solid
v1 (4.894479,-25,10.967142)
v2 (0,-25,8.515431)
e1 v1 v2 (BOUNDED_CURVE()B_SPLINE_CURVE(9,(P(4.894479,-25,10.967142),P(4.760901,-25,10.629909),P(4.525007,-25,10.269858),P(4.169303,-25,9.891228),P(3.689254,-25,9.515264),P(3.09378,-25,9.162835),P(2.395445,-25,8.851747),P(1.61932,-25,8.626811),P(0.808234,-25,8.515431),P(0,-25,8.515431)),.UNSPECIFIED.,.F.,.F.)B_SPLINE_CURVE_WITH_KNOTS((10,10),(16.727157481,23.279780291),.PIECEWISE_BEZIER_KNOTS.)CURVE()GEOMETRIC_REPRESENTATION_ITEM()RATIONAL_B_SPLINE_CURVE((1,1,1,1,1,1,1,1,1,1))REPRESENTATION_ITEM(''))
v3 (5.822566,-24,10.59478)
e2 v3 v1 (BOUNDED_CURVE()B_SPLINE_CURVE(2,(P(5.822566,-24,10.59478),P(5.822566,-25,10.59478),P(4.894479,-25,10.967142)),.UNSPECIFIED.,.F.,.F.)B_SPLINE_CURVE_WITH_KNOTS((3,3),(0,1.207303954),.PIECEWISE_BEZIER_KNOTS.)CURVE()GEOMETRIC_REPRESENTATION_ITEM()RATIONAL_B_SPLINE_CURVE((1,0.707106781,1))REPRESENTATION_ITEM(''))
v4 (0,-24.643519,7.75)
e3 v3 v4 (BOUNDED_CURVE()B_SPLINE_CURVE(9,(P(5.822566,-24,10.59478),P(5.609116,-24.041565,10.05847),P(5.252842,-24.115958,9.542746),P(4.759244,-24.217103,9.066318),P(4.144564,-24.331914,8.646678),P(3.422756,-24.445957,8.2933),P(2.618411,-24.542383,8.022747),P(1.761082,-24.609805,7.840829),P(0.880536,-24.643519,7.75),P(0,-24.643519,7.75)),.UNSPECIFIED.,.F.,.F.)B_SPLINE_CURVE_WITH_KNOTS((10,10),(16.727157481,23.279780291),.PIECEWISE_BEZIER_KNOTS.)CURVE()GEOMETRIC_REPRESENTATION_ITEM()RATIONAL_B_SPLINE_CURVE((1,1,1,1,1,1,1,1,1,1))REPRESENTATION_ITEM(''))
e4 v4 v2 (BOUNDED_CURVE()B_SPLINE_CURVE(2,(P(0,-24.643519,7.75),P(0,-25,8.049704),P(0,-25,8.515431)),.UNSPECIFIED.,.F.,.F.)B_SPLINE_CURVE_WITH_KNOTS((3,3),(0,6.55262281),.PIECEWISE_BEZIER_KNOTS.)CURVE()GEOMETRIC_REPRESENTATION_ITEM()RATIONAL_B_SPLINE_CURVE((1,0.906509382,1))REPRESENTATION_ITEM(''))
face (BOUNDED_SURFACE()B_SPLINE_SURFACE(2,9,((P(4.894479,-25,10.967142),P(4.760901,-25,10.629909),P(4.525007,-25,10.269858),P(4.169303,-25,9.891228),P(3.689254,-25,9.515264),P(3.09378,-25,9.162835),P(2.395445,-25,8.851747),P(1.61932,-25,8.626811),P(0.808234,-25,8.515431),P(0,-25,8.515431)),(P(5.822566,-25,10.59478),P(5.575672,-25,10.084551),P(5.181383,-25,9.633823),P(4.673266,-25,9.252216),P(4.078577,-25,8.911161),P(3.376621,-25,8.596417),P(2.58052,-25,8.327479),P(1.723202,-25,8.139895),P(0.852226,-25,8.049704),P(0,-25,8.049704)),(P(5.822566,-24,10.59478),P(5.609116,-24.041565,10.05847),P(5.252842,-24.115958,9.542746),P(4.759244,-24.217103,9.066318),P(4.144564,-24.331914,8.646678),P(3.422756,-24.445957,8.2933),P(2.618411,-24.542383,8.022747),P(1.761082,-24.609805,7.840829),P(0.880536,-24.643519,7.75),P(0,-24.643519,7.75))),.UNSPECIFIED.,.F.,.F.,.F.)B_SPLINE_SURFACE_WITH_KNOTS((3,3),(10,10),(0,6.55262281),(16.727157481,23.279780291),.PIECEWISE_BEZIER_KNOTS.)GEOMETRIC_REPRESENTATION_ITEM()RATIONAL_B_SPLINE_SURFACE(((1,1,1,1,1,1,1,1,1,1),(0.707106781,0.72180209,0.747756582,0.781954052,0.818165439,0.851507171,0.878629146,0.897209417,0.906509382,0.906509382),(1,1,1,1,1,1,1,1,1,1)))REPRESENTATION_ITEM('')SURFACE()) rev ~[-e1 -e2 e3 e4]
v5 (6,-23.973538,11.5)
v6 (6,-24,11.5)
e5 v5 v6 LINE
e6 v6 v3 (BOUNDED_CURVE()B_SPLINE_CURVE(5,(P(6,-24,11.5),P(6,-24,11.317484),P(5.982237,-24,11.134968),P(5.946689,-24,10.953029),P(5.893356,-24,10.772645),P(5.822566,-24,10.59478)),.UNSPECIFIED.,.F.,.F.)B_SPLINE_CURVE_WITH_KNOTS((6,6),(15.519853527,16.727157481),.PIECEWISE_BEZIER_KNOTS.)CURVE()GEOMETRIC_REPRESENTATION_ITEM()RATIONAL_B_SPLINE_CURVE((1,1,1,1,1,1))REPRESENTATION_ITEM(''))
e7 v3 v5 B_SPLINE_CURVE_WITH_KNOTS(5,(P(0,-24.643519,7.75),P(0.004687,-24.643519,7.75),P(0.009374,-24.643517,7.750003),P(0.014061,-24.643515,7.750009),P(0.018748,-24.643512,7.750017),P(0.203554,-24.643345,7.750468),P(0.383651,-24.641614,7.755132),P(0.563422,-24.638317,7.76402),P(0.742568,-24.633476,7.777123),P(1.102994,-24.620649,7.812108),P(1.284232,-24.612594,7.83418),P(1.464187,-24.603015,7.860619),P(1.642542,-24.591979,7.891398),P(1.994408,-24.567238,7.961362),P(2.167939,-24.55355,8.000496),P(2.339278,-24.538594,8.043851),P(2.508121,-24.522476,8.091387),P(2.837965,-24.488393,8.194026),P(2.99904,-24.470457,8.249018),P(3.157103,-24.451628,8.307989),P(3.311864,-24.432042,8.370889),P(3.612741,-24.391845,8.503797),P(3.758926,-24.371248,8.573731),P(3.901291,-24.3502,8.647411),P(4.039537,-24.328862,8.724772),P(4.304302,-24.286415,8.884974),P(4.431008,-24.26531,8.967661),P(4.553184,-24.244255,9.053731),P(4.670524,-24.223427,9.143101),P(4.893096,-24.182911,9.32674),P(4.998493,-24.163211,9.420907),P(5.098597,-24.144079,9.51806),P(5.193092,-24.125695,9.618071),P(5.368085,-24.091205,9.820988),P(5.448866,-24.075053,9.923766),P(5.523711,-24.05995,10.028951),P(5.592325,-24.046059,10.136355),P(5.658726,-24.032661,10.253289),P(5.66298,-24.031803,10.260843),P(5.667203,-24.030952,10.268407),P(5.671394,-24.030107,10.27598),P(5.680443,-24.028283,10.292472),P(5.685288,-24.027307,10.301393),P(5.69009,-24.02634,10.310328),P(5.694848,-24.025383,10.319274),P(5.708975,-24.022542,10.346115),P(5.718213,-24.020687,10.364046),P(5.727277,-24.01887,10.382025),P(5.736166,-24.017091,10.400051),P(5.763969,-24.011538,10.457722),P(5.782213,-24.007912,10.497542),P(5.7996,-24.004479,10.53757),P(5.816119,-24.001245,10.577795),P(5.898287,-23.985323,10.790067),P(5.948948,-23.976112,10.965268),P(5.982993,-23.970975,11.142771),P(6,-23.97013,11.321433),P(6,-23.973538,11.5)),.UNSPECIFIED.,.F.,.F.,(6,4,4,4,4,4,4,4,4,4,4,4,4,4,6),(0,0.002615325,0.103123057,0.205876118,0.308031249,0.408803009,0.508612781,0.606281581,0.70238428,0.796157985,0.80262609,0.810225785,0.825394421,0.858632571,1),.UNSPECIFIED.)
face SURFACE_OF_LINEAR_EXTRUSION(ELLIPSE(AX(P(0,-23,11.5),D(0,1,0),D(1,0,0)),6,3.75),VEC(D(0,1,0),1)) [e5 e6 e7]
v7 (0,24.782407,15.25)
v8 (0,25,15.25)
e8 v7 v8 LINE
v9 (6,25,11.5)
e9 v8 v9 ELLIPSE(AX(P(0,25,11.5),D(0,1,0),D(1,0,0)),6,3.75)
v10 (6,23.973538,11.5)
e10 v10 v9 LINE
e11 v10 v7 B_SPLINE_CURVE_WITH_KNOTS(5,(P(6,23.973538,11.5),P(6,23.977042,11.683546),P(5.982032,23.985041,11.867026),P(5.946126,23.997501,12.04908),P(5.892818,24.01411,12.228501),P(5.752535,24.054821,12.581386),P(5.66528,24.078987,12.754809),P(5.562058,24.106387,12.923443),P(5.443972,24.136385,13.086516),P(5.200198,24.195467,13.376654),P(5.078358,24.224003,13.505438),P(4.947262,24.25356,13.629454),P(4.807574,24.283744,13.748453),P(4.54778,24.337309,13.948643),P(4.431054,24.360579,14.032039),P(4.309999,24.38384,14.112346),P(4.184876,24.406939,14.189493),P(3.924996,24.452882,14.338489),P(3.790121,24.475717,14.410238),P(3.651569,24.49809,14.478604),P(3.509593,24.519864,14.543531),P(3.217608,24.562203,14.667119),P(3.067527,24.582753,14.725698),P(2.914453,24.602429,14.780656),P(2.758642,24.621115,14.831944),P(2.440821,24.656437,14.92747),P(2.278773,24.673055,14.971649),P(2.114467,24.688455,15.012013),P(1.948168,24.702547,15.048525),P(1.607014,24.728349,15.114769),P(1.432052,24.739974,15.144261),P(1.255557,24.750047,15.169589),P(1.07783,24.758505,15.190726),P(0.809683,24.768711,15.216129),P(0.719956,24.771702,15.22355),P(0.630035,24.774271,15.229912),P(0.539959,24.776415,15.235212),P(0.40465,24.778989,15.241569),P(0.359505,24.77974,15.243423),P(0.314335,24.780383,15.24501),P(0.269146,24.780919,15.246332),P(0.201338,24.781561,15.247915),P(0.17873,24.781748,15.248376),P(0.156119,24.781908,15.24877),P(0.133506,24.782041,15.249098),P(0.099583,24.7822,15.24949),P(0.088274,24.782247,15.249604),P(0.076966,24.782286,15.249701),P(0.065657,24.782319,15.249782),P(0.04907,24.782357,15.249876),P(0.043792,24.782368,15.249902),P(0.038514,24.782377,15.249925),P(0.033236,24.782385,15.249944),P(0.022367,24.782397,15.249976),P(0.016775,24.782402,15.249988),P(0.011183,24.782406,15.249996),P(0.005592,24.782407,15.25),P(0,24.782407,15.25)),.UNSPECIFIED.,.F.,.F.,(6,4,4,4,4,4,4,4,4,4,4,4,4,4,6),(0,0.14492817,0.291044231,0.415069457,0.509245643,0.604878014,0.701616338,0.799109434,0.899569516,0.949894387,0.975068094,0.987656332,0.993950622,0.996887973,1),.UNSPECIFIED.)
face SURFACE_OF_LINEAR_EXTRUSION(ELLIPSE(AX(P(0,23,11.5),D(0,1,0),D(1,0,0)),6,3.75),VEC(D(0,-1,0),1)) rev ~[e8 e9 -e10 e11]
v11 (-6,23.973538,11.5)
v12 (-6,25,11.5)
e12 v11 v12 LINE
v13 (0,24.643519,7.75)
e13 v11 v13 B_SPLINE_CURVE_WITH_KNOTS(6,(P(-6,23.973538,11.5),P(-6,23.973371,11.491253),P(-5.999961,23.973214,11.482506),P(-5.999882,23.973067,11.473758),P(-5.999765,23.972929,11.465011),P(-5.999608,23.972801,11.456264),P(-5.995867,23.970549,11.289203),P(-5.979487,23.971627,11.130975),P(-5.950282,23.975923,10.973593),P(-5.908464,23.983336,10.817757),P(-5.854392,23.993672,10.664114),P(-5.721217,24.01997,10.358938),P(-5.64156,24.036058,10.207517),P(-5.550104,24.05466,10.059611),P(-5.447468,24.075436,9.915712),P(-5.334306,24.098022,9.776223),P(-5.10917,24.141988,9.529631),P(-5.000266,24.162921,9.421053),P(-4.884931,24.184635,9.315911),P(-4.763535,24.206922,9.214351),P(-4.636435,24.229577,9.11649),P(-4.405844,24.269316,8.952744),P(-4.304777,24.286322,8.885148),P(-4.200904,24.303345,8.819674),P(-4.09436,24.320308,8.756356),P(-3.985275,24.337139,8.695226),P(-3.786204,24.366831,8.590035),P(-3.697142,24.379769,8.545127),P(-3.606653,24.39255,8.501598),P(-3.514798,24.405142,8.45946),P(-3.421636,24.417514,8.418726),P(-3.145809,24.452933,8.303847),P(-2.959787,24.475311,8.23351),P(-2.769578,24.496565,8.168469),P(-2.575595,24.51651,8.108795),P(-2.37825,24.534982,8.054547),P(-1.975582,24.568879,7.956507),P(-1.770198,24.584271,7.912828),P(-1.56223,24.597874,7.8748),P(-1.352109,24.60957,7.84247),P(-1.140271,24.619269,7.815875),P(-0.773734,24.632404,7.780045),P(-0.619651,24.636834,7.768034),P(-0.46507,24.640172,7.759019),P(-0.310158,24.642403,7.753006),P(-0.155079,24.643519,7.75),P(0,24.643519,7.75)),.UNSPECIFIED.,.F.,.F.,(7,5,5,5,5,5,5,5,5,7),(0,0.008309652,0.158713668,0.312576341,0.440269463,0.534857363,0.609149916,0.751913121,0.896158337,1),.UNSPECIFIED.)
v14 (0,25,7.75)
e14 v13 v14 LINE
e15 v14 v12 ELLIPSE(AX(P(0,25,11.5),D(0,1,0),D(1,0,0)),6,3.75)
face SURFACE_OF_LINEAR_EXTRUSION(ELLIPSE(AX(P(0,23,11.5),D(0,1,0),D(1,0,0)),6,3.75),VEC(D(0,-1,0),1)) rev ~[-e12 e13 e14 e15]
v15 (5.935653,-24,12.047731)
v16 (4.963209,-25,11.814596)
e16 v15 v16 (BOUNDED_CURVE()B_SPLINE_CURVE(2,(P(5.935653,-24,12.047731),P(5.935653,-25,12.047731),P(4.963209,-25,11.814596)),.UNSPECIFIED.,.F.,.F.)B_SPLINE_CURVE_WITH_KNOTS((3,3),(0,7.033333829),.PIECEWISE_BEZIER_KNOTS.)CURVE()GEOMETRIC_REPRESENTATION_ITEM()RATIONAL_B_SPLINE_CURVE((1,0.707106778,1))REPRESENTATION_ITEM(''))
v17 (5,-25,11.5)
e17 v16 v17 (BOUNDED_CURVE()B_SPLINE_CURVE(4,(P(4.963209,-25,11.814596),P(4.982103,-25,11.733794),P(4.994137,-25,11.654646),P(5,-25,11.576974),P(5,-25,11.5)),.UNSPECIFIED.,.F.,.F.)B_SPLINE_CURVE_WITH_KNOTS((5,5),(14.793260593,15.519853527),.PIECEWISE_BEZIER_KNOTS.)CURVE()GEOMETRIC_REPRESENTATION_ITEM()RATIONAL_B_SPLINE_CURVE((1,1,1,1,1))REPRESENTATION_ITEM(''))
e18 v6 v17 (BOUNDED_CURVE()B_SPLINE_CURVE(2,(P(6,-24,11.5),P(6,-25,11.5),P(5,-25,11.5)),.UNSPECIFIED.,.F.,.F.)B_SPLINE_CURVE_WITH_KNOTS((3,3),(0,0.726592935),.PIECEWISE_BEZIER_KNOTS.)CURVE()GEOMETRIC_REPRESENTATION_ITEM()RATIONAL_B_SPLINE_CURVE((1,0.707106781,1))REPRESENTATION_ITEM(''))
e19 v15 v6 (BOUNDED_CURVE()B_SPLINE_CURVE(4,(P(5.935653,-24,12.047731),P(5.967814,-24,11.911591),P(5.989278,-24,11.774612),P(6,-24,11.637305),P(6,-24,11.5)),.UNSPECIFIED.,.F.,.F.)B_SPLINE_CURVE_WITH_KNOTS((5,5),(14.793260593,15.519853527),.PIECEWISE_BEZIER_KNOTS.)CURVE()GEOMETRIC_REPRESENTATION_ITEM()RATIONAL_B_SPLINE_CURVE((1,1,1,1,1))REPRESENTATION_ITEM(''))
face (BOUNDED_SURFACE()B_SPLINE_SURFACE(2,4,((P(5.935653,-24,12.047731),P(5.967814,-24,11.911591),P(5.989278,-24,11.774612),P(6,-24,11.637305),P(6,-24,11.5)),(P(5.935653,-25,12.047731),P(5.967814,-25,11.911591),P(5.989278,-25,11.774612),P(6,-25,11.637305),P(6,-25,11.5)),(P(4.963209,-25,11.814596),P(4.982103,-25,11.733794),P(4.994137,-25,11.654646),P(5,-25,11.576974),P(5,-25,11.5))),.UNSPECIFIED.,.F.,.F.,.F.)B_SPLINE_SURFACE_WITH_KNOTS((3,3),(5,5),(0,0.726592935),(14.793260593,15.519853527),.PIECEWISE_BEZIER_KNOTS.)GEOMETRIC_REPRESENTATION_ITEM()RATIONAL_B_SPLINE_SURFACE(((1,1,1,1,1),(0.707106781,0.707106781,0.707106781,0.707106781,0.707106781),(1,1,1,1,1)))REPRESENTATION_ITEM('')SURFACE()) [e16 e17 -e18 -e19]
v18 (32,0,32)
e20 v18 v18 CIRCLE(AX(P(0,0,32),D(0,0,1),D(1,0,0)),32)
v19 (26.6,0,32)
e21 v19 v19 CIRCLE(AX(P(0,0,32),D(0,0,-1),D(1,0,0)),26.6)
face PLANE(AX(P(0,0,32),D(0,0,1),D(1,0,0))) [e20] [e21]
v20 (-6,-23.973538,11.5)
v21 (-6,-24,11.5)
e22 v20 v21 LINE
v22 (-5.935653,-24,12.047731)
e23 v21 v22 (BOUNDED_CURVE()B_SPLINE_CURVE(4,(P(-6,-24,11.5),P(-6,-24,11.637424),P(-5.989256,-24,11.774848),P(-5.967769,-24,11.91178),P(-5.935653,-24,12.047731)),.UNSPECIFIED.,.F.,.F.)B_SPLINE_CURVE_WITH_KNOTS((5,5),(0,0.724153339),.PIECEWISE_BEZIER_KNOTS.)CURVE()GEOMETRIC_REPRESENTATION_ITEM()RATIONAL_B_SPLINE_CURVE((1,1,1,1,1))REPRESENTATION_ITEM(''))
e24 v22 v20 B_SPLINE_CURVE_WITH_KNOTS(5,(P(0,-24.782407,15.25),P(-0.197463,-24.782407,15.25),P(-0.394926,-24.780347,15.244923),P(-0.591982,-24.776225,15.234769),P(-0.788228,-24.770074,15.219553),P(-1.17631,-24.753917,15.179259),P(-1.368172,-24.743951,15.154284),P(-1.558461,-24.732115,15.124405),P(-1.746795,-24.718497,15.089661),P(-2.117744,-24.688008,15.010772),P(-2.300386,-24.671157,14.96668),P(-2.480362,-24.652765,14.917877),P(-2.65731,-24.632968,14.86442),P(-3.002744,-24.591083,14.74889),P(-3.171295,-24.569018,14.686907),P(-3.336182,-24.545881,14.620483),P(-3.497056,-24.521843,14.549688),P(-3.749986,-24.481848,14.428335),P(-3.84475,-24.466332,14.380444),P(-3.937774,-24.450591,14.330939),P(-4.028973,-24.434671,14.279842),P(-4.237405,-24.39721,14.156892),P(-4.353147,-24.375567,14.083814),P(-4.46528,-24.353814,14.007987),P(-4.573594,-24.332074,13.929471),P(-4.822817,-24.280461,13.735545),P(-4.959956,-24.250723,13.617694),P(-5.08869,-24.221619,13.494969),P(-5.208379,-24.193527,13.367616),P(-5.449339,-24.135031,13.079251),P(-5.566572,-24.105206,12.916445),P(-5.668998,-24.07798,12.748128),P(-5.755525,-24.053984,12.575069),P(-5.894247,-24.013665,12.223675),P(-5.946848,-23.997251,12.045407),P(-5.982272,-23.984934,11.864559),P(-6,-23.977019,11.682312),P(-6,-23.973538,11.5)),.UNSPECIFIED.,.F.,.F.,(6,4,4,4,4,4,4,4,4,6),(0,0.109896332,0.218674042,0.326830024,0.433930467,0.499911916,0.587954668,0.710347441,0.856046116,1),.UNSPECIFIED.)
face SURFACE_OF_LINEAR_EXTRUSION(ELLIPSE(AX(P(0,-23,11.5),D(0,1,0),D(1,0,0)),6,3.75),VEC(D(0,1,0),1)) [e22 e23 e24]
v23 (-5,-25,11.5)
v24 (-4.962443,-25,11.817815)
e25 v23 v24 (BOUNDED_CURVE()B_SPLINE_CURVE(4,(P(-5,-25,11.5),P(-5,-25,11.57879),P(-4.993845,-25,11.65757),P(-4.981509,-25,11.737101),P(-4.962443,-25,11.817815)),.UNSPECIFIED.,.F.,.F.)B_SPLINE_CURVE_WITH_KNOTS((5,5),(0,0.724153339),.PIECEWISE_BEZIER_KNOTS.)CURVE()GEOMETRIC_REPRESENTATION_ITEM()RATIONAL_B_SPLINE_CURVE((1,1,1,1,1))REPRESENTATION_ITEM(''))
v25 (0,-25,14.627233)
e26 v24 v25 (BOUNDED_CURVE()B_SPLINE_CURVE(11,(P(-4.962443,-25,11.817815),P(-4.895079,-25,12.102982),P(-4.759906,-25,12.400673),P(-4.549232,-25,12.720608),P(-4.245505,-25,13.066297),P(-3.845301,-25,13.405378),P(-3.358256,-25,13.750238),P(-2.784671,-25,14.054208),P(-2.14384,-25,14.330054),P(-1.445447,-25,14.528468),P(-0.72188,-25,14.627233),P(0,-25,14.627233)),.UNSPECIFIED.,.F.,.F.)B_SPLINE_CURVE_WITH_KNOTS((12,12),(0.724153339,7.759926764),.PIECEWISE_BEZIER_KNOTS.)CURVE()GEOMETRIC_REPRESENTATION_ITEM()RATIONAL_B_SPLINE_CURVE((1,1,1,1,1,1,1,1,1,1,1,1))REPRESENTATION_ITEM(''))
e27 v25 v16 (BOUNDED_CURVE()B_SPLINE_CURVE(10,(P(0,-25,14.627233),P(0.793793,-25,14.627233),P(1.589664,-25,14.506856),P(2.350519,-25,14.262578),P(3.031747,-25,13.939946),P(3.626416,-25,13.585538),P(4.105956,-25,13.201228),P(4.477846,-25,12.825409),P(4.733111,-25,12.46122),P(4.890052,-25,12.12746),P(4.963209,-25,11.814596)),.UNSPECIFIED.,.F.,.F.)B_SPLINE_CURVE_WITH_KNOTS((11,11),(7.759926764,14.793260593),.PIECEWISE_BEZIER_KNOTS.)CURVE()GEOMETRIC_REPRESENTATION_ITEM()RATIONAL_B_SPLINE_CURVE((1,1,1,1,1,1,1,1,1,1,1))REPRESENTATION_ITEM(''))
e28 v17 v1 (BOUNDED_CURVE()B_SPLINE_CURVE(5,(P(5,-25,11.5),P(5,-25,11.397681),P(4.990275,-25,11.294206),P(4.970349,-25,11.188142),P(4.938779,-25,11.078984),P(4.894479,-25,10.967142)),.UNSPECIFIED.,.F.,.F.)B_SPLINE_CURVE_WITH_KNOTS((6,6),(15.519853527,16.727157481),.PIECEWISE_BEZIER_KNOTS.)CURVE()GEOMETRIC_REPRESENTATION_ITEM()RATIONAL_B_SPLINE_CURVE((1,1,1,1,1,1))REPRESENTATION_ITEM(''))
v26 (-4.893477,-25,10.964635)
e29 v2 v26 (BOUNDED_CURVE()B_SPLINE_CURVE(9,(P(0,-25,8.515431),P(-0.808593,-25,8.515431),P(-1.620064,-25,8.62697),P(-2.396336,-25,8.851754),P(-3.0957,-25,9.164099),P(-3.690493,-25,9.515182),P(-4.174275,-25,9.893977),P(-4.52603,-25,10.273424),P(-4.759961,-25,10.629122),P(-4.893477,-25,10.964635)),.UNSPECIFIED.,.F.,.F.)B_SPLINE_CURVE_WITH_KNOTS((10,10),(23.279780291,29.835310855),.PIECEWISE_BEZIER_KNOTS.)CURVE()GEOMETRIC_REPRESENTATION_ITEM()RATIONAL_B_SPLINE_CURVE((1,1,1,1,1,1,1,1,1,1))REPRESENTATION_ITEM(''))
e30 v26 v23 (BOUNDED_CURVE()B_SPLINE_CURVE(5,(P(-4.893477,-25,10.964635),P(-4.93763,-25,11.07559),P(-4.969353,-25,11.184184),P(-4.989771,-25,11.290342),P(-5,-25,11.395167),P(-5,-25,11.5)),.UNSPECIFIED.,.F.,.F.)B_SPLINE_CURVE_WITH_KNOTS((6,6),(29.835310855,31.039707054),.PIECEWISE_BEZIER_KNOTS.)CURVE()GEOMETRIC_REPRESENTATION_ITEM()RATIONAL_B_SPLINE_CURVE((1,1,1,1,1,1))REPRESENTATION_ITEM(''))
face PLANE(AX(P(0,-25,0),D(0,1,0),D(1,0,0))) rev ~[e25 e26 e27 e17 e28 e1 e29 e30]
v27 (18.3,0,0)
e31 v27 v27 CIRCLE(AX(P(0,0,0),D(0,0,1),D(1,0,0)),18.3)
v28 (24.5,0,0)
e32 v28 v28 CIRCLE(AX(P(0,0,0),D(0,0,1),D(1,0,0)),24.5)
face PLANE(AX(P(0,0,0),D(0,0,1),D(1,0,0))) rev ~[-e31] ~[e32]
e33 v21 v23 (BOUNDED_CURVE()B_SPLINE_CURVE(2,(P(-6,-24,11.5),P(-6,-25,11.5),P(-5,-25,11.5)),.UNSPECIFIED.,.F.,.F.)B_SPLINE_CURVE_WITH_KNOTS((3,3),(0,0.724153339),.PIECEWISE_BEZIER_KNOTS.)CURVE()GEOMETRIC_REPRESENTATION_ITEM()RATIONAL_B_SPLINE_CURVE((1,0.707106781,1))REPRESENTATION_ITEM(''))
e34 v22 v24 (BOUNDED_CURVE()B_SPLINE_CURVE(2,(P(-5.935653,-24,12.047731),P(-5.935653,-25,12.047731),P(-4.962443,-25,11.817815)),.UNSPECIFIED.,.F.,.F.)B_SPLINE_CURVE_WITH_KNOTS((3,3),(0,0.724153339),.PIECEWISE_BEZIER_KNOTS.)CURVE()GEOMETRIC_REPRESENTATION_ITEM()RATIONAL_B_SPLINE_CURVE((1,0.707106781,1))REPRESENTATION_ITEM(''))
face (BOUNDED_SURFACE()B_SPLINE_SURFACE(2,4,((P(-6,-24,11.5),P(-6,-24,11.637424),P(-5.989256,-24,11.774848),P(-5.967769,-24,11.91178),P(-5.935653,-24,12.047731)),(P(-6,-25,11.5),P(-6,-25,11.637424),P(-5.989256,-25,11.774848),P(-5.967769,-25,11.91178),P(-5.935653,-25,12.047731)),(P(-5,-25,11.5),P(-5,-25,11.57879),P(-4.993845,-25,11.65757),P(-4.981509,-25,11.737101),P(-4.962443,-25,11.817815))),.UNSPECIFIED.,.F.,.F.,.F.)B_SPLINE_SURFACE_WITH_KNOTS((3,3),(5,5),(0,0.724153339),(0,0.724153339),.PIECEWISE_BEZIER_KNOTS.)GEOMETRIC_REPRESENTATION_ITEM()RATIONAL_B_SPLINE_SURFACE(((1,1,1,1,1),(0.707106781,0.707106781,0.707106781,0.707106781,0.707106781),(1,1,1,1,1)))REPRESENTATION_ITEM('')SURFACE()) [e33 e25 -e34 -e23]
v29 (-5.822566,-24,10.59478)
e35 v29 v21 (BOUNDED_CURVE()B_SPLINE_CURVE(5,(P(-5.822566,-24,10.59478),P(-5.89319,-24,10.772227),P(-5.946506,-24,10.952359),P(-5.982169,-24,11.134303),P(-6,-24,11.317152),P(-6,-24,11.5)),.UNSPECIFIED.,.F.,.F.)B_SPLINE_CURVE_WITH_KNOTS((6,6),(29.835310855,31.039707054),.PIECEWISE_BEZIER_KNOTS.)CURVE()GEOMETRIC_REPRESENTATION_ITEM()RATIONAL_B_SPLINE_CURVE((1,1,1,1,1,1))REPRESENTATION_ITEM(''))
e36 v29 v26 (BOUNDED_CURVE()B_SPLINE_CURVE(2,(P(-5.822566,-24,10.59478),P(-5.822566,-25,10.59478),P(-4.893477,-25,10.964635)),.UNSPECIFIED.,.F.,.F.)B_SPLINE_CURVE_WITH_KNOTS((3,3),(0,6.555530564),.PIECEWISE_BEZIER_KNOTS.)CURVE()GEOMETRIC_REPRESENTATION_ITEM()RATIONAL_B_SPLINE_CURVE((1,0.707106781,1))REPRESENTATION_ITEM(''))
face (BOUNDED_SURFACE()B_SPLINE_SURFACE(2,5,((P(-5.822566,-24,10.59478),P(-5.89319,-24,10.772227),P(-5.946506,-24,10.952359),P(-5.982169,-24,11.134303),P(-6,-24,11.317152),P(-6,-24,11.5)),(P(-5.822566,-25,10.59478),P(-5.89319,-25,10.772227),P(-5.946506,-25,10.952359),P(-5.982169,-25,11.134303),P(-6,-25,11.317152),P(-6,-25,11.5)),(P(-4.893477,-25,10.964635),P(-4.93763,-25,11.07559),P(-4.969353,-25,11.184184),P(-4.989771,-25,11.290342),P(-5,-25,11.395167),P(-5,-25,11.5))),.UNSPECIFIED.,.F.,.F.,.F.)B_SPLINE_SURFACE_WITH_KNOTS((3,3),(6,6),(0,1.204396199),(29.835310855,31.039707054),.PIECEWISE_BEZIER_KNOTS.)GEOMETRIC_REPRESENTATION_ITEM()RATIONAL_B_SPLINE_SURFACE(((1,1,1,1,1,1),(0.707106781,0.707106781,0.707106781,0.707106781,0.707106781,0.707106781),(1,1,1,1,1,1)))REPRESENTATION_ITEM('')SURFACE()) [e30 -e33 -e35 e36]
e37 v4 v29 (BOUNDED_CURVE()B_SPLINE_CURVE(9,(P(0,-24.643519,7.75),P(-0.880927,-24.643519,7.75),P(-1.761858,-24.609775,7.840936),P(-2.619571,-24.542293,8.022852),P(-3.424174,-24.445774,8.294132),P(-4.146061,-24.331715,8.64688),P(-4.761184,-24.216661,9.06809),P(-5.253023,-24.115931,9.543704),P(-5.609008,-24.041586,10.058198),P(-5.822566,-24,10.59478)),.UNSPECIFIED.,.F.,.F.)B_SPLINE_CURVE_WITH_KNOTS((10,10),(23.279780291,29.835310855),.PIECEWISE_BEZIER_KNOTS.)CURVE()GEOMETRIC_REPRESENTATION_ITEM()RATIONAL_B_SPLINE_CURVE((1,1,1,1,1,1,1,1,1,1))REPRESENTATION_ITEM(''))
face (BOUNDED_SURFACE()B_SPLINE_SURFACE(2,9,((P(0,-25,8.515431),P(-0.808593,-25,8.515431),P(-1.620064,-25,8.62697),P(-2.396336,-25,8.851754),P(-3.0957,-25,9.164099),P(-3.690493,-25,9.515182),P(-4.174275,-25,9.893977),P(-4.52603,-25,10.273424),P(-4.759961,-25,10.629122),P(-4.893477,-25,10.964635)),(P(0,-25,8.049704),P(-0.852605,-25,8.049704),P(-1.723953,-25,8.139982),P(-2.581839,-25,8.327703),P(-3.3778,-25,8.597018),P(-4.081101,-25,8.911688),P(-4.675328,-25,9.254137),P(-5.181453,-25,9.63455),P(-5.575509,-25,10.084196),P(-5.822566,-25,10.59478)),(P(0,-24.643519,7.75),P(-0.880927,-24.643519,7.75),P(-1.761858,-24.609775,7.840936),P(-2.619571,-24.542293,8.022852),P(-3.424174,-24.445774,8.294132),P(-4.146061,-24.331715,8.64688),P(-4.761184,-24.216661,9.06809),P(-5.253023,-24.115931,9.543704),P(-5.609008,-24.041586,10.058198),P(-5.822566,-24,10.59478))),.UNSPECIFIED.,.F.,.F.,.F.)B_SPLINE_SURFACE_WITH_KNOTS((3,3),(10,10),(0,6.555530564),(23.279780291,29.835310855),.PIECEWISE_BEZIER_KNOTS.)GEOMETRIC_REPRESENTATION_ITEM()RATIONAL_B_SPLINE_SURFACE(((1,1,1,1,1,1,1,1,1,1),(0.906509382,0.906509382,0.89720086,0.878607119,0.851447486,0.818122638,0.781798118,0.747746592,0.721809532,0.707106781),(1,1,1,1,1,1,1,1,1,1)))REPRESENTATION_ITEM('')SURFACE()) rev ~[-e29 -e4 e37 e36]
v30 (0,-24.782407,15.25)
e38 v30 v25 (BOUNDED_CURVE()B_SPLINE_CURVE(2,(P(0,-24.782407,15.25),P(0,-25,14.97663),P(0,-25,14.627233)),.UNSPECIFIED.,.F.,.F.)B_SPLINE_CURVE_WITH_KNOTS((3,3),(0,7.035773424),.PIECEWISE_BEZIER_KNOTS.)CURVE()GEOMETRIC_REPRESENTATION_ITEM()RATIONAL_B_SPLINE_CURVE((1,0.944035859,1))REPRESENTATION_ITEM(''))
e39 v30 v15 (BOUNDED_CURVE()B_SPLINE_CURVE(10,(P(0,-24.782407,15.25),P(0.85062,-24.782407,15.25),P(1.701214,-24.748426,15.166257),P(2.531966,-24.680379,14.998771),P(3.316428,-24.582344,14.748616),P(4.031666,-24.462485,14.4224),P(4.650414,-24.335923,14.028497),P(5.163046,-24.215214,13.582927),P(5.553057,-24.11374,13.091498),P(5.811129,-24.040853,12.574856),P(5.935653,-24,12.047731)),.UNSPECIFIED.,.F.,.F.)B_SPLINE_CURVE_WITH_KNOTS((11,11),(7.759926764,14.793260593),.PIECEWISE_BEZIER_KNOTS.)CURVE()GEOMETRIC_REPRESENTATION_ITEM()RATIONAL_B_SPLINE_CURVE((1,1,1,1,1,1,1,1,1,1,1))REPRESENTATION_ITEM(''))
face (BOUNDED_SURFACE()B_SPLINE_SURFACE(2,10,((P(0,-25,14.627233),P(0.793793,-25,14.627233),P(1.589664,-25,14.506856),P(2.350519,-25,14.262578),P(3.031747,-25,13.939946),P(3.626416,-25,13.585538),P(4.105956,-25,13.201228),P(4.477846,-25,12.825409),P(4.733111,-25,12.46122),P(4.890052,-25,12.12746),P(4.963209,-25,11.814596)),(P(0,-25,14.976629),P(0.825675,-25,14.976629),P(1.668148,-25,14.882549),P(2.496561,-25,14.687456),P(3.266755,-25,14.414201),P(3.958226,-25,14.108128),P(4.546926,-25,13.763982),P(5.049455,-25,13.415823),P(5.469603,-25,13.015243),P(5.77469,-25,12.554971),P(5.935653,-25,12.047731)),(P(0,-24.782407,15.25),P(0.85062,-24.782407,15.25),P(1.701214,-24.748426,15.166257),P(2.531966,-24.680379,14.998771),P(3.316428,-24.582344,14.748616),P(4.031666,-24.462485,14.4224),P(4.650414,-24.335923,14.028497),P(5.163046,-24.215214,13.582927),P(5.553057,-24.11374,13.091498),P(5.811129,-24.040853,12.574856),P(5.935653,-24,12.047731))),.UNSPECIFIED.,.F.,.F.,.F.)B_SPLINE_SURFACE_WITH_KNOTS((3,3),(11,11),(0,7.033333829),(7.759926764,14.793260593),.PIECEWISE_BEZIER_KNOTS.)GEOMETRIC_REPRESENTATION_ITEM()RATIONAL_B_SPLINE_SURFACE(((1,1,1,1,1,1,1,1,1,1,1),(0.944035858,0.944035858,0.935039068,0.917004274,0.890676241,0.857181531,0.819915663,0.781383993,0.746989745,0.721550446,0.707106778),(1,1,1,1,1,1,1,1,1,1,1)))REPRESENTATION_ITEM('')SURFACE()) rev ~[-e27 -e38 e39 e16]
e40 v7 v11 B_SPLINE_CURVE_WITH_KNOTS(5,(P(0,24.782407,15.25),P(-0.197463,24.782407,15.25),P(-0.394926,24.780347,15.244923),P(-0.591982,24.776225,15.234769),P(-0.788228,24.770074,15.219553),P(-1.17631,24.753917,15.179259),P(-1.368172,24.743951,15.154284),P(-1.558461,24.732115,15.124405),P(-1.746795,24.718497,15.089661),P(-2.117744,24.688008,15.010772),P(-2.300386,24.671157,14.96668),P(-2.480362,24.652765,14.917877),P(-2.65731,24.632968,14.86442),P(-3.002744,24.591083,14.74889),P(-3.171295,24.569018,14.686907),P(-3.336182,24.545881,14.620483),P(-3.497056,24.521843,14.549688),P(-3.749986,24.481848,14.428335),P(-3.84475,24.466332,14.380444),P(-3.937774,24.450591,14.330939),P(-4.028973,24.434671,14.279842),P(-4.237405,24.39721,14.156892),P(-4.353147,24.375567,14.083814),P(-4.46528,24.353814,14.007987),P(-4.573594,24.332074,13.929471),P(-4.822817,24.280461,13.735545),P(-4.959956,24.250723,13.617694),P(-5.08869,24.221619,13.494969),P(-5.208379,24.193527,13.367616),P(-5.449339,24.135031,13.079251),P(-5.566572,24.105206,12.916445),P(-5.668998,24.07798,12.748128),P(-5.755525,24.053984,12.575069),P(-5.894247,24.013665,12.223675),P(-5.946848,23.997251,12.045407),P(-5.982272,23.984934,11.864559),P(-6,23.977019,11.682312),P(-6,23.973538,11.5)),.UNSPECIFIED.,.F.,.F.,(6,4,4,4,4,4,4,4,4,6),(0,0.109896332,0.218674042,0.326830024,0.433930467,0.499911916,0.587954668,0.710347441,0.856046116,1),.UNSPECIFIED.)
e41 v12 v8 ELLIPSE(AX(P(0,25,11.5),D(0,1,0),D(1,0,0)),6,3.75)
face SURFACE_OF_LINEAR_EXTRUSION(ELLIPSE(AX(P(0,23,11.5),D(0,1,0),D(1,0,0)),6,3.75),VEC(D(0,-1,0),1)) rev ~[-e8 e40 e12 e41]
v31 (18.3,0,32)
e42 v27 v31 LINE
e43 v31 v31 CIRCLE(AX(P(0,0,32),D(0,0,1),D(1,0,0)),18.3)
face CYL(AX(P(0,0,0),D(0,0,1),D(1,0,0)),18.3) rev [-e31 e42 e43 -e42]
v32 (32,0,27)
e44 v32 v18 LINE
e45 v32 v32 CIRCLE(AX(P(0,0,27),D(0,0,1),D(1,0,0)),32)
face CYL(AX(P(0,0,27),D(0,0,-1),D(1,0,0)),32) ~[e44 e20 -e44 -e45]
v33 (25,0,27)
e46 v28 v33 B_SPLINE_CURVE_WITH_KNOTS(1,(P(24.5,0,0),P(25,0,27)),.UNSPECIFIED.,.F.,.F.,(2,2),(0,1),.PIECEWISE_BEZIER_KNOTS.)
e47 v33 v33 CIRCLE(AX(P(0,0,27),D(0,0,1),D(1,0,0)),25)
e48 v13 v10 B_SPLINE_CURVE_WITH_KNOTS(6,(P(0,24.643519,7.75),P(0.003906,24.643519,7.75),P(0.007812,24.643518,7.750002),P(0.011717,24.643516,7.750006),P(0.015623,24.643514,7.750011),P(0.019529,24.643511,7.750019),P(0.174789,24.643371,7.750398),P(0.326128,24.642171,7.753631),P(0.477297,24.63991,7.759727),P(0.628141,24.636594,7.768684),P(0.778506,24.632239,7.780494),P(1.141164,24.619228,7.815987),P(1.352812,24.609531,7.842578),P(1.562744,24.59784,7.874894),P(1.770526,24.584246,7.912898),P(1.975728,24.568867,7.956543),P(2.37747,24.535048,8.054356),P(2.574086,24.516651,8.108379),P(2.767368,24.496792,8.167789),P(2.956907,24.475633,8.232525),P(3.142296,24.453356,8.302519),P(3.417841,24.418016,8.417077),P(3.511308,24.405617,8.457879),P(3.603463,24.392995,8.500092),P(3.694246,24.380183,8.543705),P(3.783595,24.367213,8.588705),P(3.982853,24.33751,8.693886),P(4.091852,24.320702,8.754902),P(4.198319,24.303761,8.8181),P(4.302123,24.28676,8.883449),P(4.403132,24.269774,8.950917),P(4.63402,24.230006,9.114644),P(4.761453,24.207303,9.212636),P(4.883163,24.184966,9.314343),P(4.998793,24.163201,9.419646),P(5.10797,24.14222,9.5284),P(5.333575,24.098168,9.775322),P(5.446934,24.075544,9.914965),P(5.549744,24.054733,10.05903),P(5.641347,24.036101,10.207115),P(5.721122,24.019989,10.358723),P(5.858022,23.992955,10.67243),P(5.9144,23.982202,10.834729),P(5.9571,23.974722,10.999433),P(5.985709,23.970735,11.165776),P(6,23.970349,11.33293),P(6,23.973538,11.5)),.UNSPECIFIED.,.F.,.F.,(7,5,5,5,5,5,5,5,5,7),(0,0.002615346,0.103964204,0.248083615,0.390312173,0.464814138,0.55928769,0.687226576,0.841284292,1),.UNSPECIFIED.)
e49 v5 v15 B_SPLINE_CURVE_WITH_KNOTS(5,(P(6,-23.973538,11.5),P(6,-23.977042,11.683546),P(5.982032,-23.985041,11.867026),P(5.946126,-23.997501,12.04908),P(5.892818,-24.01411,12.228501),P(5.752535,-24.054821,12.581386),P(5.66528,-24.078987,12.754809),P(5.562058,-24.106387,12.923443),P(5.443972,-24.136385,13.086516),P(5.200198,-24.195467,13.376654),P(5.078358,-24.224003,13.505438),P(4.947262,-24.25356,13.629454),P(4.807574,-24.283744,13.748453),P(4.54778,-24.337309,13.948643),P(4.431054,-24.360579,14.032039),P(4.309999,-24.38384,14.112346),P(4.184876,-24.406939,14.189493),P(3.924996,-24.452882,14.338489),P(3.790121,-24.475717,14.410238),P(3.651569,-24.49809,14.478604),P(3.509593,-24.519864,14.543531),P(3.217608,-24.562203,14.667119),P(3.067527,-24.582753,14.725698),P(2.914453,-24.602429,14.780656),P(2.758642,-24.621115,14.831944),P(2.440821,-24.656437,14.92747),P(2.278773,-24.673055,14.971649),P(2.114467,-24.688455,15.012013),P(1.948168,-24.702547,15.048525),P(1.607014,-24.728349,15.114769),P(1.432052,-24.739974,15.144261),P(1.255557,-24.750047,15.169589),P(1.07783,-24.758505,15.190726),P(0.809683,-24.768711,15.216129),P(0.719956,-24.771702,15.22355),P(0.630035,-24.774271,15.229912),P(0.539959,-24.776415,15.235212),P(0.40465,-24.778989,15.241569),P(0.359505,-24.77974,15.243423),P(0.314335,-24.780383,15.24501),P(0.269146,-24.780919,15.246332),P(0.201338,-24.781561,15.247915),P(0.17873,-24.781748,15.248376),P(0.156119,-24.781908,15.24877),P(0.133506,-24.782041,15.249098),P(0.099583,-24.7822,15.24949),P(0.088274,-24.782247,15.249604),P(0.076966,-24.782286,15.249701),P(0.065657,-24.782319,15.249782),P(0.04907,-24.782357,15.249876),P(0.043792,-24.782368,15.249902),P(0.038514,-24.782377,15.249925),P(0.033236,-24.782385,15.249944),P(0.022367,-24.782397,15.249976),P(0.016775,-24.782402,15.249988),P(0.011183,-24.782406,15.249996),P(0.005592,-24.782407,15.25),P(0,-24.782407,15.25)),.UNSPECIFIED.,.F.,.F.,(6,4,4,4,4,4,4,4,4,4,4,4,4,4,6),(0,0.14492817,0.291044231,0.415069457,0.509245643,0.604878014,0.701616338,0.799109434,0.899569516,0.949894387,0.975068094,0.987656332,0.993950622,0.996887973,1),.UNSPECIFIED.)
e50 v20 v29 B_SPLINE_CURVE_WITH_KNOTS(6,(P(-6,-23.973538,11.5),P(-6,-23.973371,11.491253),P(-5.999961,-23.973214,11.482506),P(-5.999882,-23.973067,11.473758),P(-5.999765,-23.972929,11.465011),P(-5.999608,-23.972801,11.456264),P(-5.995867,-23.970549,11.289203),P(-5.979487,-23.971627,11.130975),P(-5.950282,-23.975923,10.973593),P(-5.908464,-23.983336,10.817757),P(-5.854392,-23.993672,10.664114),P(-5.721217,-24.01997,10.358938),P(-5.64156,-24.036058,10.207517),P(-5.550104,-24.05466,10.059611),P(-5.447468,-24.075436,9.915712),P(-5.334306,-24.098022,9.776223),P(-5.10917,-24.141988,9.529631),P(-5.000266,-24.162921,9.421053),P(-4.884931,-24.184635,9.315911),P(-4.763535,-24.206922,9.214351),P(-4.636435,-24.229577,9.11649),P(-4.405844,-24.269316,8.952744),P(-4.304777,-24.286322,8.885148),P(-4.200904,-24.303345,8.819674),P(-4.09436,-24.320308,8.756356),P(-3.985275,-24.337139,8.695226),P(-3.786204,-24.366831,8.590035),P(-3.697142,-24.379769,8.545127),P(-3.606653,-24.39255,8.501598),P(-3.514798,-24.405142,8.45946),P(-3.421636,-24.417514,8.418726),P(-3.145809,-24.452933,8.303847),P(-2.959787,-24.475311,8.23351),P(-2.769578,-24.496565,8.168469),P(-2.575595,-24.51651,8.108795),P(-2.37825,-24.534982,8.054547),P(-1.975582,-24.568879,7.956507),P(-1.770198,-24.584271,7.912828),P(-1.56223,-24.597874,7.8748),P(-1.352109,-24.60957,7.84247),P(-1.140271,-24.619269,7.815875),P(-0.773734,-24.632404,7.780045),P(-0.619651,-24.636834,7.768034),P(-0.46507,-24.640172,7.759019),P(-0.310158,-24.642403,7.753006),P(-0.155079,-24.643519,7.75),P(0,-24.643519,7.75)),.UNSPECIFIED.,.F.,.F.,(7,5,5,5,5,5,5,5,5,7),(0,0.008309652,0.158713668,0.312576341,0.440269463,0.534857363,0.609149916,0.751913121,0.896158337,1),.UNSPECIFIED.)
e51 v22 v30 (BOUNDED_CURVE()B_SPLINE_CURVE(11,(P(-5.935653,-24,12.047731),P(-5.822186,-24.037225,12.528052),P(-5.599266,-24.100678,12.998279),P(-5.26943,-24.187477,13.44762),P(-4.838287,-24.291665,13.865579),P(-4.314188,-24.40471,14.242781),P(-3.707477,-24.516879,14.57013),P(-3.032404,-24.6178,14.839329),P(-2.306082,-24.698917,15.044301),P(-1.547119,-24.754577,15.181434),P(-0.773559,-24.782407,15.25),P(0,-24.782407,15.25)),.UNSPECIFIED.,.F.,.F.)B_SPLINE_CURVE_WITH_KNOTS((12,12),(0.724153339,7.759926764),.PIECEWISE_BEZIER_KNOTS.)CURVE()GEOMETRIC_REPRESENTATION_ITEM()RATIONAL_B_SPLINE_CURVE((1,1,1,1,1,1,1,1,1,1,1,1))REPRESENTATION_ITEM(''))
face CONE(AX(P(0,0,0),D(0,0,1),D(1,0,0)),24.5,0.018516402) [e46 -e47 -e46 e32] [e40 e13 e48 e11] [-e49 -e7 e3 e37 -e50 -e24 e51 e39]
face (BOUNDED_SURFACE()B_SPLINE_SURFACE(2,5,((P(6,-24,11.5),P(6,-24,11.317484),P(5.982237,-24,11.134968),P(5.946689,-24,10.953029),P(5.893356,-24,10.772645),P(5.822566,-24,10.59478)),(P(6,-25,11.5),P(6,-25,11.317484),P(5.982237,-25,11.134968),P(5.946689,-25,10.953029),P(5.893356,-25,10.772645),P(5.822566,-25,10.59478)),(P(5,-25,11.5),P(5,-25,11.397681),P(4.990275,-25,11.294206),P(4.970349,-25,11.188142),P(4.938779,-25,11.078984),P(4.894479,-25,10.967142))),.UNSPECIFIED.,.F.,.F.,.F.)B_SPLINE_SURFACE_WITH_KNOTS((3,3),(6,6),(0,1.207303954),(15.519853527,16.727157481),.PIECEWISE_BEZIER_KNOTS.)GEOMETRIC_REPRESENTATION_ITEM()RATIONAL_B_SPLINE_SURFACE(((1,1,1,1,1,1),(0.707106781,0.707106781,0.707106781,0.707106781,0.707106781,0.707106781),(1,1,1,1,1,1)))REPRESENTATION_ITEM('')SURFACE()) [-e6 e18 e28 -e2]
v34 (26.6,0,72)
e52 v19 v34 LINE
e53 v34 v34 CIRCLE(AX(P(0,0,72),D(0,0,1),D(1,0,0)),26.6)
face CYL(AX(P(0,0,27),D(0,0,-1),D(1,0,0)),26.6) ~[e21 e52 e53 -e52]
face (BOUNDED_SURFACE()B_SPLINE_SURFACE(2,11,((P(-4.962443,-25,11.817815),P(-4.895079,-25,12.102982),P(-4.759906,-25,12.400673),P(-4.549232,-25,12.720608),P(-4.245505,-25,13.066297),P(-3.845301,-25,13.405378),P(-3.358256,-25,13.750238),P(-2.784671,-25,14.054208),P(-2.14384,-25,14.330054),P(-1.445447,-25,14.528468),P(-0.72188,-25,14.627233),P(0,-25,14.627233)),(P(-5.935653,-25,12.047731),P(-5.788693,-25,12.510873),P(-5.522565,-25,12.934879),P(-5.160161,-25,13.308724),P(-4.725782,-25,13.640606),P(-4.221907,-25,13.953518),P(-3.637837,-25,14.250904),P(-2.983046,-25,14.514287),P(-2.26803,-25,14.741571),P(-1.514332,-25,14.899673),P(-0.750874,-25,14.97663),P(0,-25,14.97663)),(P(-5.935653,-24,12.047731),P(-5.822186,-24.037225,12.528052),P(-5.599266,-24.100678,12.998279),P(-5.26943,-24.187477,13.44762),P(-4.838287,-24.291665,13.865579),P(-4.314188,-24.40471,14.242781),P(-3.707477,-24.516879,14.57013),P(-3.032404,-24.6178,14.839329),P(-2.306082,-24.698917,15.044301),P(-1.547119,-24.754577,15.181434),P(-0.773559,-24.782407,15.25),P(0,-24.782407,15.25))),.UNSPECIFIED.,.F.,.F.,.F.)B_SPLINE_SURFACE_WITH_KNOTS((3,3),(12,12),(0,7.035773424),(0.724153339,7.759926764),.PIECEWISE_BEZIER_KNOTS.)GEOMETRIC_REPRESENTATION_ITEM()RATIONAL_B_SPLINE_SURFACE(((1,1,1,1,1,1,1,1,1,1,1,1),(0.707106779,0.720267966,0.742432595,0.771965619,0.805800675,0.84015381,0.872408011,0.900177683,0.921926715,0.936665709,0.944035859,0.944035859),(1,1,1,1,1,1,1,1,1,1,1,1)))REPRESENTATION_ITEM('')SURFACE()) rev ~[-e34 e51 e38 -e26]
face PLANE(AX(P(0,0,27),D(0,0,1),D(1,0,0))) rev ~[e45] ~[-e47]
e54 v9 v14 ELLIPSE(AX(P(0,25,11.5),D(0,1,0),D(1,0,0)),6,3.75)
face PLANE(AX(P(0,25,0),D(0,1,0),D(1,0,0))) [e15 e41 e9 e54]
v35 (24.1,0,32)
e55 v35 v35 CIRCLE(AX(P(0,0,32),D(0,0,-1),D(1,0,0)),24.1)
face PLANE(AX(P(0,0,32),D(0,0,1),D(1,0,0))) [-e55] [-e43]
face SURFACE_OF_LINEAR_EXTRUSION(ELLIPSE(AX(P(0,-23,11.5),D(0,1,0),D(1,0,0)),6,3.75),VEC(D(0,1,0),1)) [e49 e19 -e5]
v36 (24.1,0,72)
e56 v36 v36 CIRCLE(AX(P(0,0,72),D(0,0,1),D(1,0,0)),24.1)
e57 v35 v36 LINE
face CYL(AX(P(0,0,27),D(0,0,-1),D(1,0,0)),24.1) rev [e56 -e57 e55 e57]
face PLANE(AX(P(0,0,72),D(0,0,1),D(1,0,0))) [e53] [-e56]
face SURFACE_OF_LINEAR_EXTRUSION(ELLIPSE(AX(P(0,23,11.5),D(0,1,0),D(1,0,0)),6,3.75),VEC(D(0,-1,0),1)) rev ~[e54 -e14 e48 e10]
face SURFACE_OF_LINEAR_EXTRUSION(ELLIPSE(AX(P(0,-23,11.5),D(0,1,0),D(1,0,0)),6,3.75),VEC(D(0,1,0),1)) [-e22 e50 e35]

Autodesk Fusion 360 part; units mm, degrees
sketch "Sketch1" plane through (0, 0, 0) normal (0, 0, 1) x (1, 0, 0)
  circle A0 centre (0, 0) radius 24.5
  circle A1 centre (0, 0) radius 18.3
  dimension "d1" = 49
  dimension "d7" = 36.6
ref_plane "WorkPlane1" through (0, 0, 27) normal (0, 0, 1) x (1, 0, 0)
sketch "Sketch2" plane through (0, 0, 27) normal (0, 0, 1) x (1, 0, 0)
  circle A0 centre (0, 0) radius 25
  circle A1 centre (0, 0) radius 18.3
  dimension "d6" = 50
  dimension "d8" = 36.6
loft "Loft3" add profiles "Sketch1", "Sketch2" section 1 section 2
loft "Loft4" cut profiles "Sketch1", "Sketch2" section 1 contours A1 section 2 contours A1
sketch "Sketch3" plane through (0, 0, 27) normal (0, 0, 1) x (1, 0, 0)
  circle A0 centre (0, 0) radius 32
  circle A1 centre (0, 0) radius 26.6
  circle A2 centre (0, 0) radius 24.1
  dimension "d9" = 64
  dimension "d10" = 53.2
  dimension "d15" = 48.2
extrude "Extrude1" add sketch "Sketch2" sketch "Sketch3" along normal blind 5 of sketch 2 contours A0 | A1
extrude "Extrude2" add sketch "Sketch3" along normal blind 45 contours A1
sketch "Sketch5" plane through (0, 0, 0) normal (0, 1, 0) x (1, 0, 0)
  ellipse E0 centre (0, -11.5) end of major axis (6, -11.5) minor radius 3.75
  line L0 (-6, -11.5) -> (6, -11.5)
  line L1 (0, -15.25) -> (0, -7.75)
  line L2 (-32, -27) -> (32, -27)
  dimension "d20" = 12
  dimension "d21" = 7.5
  dimension "d23" = 15.5
extrude "Extrude4" add sketch "Sketch5" along normal blind 2 from surface at 23
extrude "Extrude5" add sketch "Sketch5" against normal blind 2 from surface at -23
fillet "Fillet1" radius 1 2 edges at (-6, 25, 11.5) (-6, -25, 11.5)
